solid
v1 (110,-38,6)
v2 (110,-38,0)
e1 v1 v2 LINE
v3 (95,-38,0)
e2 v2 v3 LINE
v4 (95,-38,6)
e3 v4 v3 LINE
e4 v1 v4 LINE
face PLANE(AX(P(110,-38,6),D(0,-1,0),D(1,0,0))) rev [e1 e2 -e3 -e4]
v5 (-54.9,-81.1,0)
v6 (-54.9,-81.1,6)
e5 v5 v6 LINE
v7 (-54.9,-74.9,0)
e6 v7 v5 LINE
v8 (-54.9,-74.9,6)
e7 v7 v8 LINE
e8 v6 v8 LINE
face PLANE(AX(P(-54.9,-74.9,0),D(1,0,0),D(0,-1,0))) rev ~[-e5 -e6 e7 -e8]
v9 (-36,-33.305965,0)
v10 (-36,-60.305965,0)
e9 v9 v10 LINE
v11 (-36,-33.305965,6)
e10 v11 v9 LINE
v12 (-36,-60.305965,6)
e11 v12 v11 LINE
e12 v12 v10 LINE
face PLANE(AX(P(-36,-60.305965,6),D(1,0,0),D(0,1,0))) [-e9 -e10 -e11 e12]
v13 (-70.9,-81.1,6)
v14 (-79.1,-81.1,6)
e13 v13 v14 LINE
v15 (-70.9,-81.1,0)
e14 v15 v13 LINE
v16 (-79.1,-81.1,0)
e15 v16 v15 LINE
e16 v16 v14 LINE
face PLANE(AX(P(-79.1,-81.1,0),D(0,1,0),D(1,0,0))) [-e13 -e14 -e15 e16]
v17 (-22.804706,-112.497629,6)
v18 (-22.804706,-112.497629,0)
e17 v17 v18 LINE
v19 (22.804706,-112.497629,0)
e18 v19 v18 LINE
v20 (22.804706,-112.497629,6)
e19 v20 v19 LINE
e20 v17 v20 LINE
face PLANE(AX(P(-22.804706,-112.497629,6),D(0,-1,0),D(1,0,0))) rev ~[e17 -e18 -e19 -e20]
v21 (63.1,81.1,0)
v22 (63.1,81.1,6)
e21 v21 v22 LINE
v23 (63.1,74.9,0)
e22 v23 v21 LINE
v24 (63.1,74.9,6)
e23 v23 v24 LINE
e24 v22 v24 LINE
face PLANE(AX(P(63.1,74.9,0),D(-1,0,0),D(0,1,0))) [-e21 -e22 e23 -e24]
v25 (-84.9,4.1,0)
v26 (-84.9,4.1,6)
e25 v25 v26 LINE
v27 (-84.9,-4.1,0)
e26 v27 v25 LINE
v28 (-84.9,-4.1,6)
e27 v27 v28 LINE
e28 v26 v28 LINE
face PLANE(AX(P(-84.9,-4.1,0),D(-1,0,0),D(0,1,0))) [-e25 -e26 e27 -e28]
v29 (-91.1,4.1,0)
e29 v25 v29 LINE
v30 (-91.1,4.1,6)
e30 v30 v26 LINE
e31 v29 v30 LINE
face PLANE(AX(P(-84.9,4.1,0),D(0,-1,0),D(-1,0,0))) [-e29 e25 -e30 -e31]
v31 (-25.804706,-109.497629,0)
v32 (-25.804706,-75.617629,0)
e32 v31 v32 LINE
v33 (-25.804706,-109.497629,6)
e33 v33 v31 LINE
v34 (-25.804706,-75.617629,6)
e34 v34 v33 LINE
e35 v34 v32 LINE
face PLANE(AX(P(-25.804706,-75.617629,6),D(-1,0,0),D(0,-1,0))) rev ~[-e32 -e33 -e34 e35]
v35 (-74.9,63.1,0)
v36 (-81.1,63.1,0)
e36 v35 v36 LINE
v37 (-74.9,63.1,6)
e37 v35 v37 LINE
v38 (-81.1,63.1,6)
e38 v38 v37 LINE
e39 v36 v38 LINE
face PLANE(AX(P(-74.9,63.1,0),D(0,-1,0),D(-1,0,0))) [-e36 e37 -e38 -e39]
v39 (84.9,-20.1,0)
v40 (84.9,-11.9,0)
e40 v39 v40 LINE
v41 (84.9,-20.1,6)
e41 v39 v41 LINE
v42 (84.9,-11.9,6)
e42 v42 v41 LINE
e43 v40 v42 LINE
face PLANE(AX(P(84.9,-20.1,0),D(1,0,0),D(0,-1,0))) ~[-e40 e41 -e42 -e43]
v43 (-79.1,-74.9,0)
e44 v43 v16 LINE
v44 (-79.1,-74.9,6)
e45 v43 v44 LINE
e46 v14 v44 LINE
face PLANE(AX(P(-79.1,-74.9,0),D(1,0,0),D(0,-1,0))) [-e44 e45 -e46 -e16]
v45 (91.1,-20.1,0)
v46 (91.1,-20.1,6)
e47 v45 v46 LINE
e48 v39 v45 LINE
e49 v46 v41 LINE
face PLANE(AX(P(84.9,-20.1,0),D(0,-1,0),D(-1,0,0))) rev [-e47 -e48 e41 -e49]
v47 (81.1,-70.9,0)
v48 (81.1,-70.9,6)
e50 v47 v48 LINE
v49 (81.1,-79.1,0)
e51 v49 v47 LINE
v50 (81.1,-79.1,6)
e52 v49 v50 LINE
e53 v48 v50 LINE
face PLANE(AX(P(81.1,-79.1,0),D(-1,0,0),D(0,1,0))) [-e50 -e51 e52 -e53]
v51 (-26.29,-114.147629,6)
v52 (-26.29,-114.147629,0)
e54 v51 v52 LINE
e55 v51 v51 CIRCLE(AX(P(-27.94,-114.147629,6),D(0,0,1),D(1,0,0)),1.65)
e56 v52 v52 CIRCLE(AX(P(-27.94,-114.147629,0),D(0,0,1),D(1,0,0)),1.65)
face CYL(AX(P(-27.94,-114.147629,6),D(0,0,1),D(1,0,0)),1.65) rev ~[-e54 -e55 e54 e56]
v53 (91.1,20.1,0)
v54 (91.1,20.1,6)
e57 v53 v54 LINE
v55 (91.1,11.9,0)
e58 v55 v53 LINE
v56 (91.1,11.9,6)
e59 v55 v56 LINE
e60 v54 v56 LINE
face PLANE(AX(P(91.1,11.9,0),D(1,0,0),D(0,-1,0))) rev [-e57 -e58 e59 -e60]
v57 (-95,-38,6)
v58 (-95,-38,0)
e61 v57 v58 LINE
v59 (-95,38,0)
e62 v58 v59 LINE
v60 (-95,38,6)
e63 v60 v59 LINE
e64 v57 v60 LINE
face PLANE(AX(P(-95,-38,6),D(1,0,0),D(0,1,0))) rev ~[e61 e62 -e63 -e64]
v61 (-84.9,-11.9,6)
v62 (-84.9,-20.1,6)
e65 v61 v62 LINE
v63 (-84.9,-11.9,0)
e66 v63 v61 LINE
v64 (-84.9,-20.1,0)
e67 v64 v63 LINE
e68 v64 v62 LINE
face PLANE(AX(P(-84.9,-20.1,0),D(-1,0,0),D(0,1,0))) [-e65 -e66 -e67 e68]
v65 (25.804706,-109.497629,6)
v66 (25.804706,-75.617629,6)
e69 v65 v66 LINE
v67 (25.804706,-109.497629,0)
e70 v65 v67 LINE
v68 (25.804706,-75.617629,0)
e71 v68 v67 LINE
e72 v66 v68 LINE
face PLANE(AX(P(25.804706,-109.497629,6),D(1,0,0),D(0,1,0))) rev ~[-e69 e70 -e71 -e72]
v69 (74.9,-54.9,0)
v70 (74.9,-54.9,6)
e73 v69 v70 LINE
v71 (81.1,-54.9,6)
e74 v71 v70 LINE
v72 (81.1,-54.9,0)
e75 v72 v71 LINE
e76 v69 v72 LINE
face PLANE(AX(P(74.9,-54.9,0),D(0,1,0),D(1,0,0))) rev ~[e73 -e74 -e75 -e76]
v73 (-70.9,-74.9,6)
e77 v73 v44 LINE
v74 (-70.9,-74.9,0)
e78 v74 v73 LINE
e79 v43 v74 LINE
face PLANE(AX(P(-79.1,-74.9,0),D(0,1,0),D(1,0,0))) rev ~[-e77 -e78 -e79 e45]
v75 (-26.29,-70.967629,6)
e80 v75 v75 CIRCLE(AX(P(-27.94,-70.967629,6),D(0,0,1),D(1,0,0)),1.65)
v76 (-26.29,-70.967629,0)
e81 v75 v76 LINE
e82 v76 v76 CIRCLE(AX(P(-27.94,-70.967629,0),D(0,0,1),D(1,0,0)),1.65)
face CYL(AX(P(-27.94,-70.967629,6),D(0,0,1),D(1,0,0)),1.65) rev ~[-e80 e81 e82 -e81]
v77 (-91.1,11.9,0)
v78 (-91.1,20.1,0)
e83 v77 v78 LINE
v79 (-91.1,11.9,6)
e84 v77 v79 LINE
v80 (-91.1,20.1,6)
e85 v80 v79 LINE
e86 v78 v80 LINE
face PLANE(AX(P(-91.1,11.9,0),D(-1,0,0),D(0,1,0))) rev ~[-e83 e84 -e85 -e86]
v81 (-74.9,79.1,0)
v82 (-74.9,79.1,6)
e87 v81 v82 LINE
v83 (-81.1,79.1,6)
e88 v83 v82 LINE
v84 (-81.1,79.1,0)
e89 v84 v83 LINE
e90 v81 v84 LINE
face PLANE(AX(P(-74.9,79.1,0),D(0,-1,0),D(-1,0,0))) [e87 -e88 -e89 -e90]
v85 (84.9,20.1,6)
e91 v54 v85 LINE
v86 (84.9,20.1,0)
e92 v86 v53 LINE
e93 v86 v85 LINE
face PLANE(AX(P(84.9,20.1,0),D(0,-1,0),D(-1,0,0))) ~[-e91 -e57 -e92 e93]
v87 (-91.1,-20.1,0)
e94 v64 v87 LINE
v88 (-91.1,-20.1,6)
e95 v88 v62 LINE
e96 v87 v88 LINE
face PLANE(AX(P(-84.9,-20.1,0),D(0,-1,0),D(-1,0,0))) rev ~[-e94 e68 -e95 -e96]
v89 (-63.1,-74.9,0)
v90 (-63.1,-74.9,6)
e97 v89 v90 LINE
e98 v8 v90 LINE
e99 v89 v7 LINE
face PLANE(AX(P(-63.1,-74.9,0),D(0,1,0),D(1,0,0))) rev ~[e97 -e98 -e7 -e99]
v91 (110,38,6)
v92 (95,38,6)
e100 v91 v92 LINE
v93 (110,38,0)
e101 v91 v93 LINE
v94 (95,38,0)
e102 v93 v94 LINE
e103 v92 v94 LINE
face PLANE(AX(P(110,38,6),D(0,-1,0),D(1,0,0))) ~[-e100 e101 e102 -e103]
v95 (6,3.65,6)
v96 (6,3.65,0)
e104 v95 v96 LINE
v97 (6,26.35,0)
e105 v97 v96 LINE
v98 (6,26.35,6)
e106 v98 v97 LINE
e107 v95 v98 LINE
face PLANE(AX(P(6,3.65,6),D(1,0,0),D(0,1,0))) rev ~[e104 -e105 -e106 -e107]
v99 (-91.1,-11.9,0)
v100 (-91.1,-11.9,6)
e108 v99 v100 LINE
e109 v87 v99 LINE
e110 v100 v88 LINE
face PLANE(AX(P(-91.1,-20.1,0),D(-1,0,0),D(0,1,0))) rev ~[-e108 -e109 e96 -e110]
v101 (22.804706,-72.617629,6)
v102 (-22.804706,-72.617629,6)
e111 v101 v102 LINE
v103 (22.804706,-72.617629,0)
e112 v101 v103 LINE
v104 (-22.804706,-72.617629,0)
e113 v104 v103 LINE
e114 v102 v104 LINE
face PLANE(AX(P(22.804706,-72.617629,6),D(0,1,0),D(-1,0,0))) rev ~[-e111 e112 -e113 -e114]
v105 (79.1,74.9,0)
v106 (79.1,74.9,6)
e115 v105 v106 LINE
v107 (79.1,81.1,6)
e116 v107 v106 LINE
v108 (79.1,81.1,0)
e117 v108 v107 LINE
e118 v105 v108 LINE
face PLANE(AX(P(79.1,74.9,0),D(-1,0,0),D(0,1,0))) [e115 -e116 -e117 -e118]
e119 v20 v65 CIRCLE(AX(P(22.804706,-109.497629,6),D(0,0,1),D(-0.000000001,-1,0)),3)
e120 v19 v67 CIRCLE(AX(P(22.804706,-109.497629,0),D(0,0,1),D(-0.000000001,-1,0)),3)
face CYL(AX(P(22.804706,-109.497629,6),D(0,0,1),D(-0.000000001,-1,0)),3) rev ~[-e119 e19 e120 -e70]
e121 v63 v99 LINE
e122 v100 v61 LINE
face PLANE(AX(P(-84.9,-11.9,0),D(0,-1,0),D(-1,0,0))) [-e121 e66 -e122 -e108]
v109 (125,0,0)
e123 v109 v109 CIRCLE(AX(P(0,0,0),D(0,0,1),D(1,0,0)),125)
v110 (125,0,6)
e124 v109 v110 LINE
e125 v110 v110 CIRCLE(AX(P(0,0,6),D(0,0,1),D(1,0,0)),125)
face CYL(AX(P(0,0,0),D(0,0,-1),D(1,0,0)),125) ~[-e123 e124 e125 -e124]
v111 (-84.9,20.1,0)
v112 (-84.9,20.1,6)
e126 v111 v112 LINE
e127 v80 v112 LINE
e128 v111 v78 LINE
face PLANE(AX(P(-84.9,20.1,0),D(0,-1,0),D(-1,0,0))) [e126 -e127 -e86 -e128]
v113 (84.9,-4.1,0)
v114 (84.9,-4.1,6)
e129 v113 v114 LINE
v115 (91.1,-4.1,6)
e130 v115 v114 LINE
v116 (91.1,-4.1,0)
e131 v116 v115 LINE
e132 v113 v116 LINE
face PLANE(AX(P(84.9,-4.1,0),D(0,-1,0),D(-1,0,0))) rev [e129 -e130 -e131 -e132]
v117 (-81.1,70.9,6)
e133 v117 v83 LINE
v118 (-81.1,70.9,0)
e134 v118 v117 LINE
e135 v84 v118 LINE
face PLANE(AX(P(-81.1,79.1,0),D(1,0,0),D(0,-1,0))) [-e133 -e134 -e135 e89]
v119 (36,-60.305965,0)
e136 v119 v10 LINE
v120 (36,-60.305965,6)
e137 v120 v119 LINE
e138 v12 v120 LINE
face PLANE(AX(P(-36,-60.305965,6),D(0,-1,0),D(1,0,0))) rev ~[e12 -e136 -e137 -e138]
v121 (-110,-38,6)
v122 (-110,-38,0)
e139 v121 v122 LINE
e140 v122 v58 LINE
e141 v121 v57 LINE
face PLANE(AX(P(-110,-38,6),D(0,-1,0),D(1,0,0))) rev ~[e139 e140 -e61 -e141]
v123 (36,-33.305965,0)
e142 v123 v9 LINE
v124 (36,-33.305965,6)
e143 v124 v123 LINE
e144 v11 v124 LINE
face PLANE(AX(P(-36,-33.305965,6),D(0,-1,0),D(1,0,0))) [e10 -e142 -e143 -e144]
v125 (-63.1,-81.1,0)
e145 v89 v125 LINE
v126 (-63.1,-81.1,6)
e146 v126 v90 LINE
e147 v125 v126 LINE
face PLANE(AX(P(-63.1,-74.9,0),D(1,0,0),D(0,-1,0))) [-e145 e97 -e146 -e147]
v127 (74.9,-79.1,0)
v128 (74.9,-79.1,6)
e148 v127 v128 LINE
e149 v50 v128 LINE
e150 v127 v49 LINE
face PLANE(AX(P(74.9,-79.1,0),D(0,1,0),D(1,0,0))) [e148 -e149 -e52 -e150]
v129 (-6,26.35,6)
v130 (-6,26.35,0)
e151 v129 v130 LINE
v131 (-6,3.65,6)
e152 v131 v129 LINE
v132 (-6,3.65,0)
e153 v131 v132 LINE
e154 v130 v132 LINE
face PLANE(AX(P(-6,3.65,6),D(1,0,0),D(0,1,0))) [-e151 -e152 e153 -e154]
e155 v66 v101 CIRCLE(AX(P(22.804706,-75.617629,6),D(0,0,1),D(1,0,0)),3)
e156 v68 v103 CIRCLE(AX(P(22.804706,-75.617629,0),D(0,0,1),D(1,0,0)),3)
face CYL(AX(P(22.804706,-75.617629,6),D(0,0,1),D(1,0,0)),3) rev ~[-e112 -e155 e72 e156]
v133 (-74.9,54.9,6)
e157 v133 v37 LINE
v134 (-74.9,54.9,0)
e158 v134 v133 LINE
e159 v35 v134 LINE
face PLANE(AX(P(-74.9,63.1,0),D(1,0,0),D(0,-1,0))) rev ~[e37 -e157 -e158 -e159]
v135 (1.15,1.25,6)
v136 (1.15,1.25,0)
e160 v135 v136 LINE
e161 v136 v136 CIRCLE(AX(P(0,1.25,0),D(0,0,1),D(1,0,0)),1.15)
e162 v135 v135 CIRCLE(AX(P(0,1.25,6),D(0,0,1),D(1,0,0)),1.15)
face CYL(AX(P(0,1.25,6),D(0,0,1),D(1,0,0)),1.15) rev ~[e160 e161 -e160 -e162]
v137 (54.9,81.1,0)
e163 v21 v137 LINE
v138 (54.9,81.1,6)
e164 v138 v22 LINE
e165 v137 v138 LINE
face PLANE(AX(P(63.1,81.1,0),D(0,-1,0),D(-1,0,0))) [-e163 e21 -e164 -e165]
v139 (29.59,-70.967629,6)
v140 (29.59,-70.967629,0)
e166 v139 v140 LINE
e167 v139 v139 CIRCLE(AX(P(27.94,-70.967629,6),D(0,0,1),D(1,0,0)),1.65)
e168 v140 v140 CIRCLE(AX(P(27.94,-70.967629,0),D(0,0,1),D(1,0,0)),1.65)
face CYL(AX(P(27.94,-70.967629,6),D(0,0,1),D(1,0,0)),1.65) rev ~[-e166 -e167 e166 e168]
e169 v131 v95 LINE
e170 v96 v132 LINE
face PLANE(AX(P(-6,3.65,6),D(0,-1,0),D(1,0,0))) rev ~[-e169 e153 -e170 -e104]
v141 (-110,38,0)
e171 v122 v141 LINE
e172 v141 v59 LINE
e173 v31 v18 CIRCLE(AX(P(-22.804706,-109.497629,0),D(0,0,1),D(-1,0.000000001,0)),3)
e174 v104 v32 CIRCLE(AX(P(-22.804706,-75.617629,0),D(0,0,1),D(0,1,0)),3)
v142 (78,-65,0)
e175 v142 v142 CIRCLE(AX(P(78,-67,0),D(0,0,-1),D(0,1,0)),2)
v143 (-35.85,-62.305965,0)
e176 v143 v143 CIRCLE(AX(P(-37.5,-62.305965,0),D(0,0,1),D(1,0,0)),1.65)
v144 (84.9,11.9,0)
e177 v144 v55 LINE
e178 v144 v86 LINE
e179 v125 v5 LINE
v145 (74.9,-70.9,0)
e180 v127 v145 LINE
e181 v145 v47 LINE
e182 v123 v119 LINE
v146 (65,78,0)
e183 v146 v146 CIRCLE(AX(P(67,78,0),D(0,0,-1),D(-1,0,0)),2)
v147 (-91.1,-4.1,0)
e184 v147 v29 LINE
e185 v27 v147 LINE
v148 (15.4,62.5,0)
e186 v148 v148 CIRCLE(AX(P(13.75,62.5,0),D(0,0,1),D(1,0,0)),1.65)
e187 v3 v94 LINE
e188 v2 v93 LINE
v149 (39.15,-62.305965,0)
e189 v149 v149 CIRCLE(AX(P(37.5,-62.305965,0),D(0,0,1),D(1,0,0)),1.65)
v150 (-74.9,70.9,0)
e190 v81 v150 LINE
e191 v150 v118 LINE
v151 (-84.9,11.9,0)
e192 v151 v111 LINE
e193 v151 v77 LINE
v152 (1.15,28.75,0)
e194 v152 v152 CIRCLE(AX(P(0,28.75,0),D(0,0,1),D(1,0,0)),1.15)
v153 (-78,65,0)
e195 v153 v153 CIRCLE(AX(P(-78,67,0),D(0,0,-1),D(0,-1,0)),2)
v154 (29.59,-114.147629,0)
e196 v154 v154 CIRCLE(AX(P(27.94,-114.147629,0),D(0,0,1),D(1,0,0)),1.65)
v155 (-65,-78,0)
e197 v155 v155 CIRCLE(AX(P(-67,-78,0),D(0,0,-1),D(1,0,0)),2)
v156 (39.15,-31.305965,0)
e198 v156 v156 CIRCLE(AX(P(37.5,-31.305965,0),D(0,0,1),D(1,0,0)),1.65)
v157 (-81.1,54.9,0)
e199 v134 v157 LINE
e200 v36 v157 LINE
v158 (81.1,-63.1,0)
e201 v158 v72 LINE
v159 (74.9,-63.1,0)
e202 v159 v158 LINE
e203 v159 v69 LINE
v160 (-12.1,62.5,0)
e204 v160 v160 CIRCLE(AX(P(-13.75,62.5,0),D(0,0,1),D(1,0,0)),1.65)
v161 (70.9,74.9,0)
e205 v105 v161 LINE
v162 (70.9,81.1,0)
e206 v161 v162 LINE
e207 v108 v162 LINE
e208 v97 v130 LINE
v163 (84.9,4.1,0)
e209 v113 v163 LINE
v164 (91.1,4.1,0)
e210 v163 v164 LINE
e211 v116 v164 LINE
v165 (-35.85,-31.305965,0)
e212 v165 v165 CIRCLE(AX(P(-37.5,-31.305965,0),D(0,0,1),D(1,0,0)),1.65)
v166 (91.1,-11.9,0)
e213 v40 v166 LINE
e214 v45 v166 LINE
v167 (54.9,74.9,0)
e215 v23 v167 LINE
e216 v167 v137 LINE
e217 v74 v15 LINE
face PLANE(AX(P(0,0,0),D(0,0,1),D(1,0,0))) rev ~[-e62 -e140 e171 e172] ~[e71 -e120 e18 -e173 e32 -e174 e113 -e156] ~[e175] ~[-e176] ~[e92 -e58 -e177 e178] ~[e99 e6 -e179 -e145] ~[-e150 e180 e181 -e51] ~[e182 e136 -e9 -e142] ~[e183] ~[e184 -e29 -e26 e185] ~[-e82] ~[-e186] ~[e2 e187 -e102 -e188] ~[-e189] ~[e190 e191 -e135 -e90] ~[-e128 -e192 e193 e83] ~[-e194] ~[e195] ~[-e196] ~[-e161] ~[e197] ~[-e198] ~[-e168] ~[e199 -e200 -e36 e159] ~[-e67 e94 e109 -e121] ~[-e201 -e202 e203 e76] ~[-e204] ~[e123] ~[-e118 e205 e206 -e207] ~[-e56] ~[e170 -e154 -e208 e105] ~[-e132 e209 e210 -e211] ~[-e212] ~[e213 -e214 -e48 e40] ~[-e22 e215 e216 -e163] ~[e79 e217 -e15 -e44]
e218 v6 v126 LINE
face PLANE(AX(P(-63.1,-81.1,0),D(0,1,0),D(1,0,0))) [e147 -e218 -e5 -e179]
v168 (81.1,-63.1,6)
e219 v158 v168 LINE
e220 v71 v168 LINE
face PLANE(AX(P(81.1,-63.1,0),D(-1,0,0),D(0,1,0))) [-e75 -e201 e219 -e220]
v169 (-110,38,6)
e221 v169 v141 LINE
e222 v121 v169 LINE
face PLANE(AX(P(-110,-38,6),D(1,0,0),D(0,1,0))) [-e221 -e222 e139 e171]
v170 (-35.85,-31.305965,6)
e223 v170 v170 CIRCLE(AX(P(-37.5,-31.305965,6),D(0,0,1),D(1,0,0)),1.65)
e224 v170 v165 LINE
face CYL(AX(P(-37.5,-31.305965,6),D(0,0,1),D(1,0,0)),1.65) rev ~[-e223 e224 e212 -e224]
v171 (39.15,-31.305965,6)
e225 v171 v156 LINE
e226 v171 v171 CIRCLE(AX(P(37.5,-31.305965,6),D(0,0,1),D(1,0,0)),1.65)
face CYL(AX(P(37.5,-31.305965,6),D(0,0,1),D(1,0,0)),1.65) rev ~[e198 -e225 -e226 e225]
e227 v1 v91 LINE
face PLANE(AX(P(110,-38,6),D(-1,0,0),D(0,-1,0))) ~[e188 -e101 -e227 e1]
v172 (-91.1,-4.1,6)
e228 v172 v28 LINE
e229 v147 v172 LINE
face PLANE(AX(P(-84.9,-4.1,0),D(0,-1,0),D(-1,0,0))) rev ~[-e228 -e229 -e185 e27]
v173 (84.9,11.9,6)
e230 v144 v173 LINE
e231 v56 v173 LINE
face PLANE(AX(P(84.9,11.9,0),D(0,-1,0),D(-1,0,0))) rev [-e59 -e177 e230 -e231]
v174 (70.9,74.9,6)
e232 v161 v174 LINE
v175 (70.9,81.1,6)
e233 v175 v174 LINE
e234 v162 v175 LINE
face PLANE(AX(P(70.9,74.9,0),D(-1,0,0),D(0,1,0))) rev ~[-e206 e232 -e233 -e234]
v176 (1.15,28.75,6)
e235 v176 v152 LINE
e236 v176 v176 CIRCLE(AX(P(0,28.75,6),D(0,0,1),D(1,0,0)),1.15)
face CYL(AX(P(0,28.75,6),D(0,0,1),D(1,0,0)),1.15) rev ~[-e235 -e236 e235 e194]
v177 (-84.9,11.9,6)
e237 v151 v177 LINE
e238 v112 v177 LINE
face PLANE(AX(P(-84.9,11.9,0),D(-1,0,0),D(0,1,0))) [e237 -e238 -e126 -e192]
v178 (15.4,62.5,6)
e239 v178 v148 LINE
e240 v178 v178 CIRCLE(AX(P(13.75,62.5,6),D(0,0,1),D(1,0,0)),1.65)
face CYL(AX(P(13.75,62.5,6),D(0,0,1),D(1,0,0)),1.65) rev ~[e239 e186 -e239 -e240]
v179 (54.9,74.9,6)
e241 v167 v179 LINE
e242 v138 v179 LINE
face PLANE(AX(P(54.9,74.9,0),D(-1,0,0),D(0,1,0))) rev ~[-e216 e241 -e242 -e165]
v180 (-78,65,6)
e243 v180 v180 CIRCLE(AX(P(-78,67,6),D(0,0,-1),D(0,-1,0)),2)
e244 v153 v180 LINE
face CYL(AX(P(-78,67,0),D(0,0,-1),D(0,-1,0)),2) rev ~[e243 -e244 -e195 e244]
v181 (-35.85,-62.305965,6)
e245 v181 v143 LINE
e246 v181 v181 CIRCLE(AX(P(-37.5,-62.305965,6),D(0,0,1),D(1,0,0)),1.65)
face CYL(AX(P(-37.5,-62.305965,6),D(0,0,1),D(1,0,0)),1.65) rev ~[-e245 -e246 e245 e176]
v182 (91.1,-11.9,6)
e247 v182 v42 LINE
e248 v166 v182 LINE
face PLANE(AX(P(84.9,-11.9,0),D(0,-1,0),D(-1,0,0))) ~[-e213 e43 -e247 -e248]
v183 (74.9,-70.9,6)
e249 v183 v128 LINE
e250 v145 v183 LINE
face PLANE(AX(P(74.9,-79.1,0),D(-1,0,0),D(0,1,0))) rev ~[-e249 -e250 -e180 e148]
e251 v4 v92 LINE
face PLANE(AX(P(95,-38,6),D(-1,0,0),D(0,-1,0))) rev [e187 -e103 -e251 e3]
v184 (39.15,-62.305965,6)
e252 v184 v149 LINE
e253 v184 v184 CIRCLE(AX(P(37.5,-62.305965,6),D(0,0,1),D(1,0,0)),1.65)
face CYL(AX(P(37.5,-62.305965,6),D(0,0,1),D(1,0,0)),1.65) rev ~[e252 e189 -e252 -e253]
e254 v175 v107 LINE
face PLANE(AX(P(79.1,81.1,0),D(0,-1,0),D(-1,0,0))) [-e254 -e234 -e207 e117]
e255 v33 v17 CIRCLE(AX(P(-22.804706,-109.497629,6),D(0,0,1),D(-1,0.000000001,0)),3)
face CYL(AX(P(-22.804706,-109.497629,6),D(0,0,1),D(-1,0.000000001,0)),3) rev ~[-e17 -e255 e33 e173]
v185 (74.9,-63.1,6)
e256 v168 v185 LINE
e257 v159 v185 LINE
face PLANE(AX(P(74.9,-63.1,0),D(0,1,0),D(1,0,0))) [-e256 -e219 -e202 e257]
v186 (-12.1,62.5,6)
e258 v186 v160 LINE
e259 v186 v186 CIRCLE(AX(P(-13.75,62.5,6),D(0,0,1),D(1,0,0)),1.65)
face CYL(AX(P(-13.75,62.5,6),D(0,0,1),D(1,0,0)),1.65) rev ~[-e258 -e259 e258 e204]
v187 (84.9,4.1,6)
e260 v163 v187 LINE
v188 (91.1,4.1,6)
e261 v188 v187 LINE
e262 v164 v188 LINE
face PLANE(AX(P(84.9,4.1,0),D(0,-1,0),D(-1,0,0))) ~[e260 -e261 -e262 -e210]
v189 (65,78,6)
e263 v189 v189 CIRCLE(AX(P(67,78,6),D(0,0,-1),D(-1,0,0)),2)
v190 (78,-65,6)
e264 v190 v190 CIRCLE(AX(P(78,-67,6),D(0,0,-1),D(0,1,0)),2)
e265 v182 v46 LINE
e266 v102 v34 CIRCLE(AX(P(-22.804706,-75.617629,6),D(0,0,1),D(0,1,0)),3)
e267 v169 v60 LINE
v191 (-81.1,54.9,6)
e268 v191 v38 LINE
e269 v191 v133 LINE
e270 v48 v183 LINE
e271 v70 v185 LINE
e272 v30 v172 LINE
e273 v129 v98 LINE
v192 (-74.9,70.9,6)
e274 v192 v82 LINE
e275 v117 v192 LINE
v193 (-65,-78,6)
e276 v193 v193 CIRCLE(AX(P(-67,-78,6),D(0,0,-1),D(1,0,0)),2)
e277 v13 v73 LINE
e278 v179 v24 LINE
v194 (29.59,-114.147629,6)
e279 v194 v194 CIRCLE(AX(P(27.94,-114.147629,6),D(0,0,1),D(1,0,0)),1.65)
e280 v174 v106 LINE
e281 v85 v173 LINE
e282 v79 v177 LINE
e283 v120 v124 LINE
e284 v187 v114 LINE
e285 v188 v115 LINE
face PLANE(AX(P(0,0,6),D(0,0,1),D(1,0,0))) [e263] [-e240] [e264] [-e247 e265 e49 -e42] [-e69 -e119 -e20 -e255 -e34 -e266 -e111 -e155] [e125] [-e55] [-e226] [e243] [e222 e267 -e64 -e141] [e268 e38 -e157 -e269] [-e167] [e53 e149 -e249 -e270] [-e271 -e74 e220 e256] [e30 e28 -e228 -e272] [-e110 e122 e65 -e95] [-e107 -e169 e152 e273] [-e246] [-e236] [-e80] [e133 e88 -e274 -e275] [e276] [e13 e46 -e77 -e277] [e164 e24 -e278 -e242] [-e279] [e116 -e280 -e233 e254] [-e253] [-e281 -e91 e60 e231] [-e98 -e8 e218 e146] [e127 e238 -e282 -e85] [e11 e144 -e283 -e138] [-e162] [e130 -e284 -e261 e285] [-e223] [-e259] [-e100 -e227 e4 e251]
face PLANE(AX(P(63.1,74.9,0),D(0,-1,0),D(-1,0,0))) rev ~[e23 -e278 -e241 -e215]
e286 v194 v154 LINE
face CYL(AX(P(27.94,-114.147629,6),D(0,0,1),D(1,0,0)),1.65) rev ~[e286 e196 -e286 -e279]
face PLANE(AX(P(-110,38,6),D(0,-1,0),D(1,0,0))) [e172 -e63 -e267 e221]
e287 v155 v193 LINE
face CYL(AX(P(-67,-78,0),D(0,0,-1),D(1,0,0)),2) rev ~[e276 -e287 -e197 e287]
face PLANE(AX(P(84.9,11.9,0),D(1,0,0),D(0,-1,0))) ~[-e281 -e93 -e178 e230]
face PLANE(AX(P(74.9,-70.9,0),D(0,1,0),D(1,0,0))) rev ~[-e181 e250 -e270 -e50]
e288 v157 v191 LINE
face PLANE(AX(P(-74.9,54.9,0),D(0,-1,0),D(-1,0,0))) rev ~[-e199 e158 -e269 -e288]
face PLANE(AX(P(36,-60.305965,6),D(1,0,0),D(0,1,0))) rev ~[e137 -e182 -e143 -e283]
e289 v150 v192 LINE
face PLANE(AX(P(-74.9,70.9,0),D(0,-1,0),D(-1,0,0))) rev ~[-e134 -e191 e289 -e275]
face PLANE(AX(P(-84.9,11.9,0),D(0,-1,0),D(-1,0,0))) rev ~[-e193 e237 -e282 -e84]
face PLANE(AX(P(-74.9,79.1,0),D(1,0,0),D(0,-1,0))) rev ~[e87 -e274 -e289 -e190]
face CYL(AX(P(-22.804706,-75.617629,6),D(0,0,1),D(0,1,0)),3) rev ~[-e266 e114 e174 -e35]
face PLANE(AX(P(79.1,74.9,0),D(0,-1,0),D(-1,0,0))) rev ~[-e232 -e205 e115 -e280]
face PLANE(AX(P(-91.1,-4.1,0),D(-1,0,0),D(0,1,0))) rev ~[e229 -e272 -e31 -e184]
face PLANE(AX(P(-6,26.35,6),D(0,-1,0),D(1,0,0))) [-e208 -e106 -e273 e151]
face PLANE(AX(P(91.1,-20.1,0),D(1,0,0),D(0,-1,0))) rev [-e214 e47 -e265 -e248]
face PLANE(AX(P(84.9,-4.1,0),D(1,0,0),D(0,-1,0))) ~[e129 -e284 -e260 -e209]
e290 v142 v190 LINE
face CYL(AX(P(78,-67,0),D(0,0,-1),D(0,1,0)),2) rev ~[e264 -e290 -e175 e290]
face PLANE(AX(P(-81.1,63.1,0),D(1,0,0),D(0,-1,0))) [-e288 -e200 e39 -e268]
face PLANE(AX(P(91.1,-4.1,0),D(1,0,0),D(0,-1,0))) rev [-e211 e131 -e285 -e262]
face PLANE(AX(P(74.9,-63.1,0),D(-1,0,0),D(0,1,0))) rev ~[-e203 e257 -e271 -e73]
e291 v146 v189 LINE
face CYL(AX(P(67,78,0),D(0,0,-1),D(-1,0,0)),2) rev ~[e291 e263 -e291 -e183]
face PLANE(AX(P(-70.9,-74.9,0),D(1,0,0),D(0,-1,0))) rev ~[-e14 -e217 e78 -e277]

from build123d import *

# Parameters (mm, degrees)
ESQUISSE1_R                  = 125
BOSS_EXTRU_1_DEPTH           = 6
ESQUISSE2_W                  = 15
ESQUISSE2_H                  = 76
ENL_V_MAT_EXTRU_1_DEPTH      = 177.878489365
ESQUISSE3_R                  = 2
ESQUISSE3_W                  = 8.2
ESQUISSE3_H                  = 6.2
ENL_V_MAT_EXTRU_2_DEPTH      = 177.878489365
R_P_TITION_CIRCULAIRE1_COUNT = 4
ESQUISSE4_W                  = 6.2
ESQUISSE4_H                  = 8.2
ENL_V_MAT_EXTRU_3_DEPTH      = 177.878489365
ENL_V_MAT_EXTRU_4_REACH      = 178.878
ESQUISSE8_R                  = 1.65
ESQUISSE8_W                  = 72
ESQUISSE8_H                  = 27
ENL_V_MAT_EXTRU_5_REACH      = 178.878
ESQUISSE9_R                  = 1.65
ESQUISSE9_R_2                = 1.15
ESQUISSE9_W                  = 12
ESQUISSE9_H                  = 22.7


with BuildPart() as part:
    # Esquisse1 → Boss.-Extru.1 (new body)
    with BuildSketch(Plane.XY):
        Circle(ESQUISSE1_R)
    extrude(amount=BOSS_EXTRU_1_DEPTH)

    # Esquisse2 → Enlèv. mat.-Extru.1 (cut, through all)
    with BuildSketch(Plane.XY.offset(6)):
        with Locations((-102.5, 0)):
            Rectangle(ESQUISSE2_W, ESQUISSE2_H)
    enl_v_mat_extru_1 = extrude(amount=-ENL_V_MAT_EXTRU_1_DEPTH, mode=Mode.SUBTRACT)

    # Symétrie1: Enlèv. mat.-Extru.1 across plane
    add(enl_v_mat_extru_1.mirror(Plane(origin=(0, 0, 0), x_dir=(0, 0, 1), z_dir=(1, 0, 0))), mode=Mode.SUBTRACT)

    # Esquisse3 → Enlèv. mat.-Extru.2 (cut, through all)
    with BuildSketch(Plane(origin=(0, 0, 0), x_dir=(-1, 0, 0), z_dir=(0, 0, -1))):
        with Locations((-67, 78)):
            Circle(ESQUISSE3_R)
        with Locations((-75, 78)):
            Rectangle(ESQUISSE3_W, ESQUISSE3_H)
        with Locations((-59, 78)):
            Rectangle(ESQUISSE3_W, ESQUISSE3_H)
    enl_v_mat_extru_2 = extrude(amount=-ENL_V_MAT_EXTRU_2_DEPTH, mode=Mode.SUBTRACT)

    # Répétition circulaire1: Enlèv. mat.-Extru.2 ×4 about axis
    r_p_tition_circulaire1_axis = Axis((0, 0, -0.25), (0, 0, 1))
    for i in range(1, R_P_TITION_CIRCULAIRE1_COUNT):
        add(enl_v_mat_extru_2.rotate(r_p_tition_circulaire1_axis, i * 360 / R_P_TITION_CIRCULAIRE1_COUNT), mode=Mode.SUBTRACT)

    # Esquisse4 → Enlèv. mat.-Extru.3 (cut, through all)
    with BuildSketch(Plane(origin=(0, 0, 0), x_dir=(-1, 0, 0), z_dir=(0, 0, -1))):
        with Locations((88, 16)):
            Rectangle(ESQUISSE4_W, ESQUISSE4_H)
        with Locations((88, -16)):
            Rectangle(ESQUISSE4_W, ESQUISSE4_H)
        with Locations((88, 0)):
            Rectangle(ESQUISSE4_W, ESQUISSE4_H)
    enl_v_mat_extru_3 = extrude(amount=-ENL_V_MAT_EXTRU_3_DEPTH, mode=Mode.SUBTRACT)

    # Symétrie2: Enlèv. mat.-Extru.3 across plane
    add(enl_v_mat_extru_3.mirror(Plane(origin=(0, 0, 0), x_dir=(0, 0, 1), z_dir=(1, 0, 0))), mode=Mode.SUBTRACT)

    # Esquisse8 → Enlèv. mat.-Extru.4 (cut, up to next)
    with BuildSketch(Plane.XY.offset(6), mode=Mode.PRIVATE) as enl_v_mat_extru_4_sk1:
        with Locations((-37.5, -31.305965203)):
            Circle(ESQUISSE8_R)
    enl_v_mat_extru_4_tool1 = extrude(enl_v_mat_extru_4_sk1.sketch, amount=-ENL_V_MAT_EXTRU_4_REACH, mode=Mode.PRIVATE) & part.part
    # Esquisse8 → Enlèv. mat.-Extru.4 (cut, up to next)
    with BuildSketch(Plane.XY.offset(6), mode=Mode.PRIVATE) as enl_v_mat_extru_4_sk2:
        with Locations((37.5, -31.305965203)):
            Circle(ESQUISSE8_R)
    enl_v_mat_extru_4_tool2 = extrude(enl_v_mat_extru_4_sk2.sketch, amount=-ENL_V_MAT_EXTRU_4_REACH, mode=Mode.PRIVATE) & part.part
    # Esquisse8 → Enlèv. mat.-Extru.4 (cut, up to next)
    with BuildSketch(Plane.XY.offset(6), mode=Mode.PRIVATE) as enl_v_mat_extru_4_sk3:
        with Locations((37.5, -62.305965203)):
            Circle(ESQUISSE8_R)
    enl_v_mat_extru_4_tool3 = extrude(enl_v_mat_extru_4_sk3.sketch, amount=-ENL_V_MAT_EXTRU_4_REACH, mode=Mode.PRIVATE) & part.part
    # Esquisse8 → Enlèv. mat.-Extru.4 (cut, up to next)
    with BuildSketch(Plane.XY.offset(6), mode=Mode.PRIVATE) as enl_v_mat_extru_4_sk4:
        with Locations((-37.5, -62.305965203)):
            Circle(ESQUISSE8_R)
    enl_v_mat_extru_4_tool4 = extrude(enl_v_mat_extru_4_sk4.sketch, amount=-ENL_V_MAT_EXTRU_4_REACH, mode=Mode.PRIVATE) & part.part
    # Esquisse8 → Enlèv. mat.-Extru.4 (cut, up to next)
    with BuildSketch(Plane.XY.offset(6), mode=Mode.PRIVATE) as enl_v_mat_extru_4_sk5:
        with Locations((-27.94, -70.967629177)):
            Circle(ESQUISSE8_R)
    enl_v_mat_extru_4_tool5 = extrude(enl_v_mat_extru_4_sk5.sketch, amount=-ENL_V_MAT_EXTRU_4_REACH, mode=Mode.PRIVATE) & part.part
    # Esquisse8 → Enlèv. mat.-Extru.4 (cut, up to next)
    with BuildSketch(Plane.XY.offset(6), mode=Mode.PRIVATE) as enl_v_mat_extru_4_sk6:
        with Locations((27.94, -70.967629177)):
            Circle(ESQUISSE8_R)
    enl_v_mat_extru_4_tool6 = extrude(enl_v_mat_extru_4_sk6.sketch, amount=-ENL_V_MAT_EXTRU_4_REACH, mode=Mode.PRIVATE) & part.part
    # Esquisse8 → Enlèv. mat.-Extru.4 (cut, up to next)
    with BuildSketch(Plane.XY.offset(6), mode=Mode.PRIVATE) as enl_v_mat_extru_4_sk7:
        with Locations((27.94, -114.147629177)):
            Circle(ESQUISSE8_R)
    enl_v_mat_extru_4_tool7 = extrude(enl_v_mat_extru_4_sk7.sketch, amount=-ENL_V_MAT_EXTRU_4_REACH, mode=Mode.PRIVATE) & part.part
    # Esquisse8 → Enlèv. mat.-Extru.4 (cut, up to next)
    with BuildSketch(Plane.XY.offset(6), mode=Mode.PRIVATE) as enl_v_mat_extru_4_sk8:
        with Locations((-27.94, -114.147629177)):
            Circle(ESQUISSE8_R)
    enl_v_mat_extru_4_tool8 = extrude(enl_v_mat_extru_4_sk8.sketch, amount=-ENL_V_MAT_EXTRU_4_REACH, mode=Mode.PRIVATE) & part.part
    # Esquisse8 → Enlèv. mat.-Extru.4 (cut, up to next)
    with BuildSketch(Plane.XY.offset(6), mode=Mode.PRIVATE) as enl_v_mat_extru_4_sk9:
        with Locations((0, -46.805965203)):
            Rectangle(ESQUISSE8_W, ESQUISSE8_H)
    enl_v_mat_extru_4_tool9 = extrude(enl_v_mat_extru_4_sk9.sketch, amount=-ENL_V_MAT_EXTRU_4_REACH, mode=Mode.PRIVATE) & part.part
    # Esquisse8 → Enlèv. mat.-Extru.4 (cut, up to next)
    with BuildSketch(Plane.XY.offset(6), mode=Mode.PRIVATE) as enl_v_mat_extru_4_sk10:
        with BuildLine():
            Line((-22.804705882, -112.497629177), (22.804705882, -112.497629177))
            ThreePointArc((22.804705882, -112.497629177), (24.926026226, -111.618949521), (25.804705882, -109.497629177))
            Line((25.804705882, -109.497629177), (25.804705882, -75.617629177))
            ThreePointArc((25.804705882, -75.617629177), (24.926026226, -73.496308834), (22.804705882, -72.617629177))
            Line((22.804705882, -72.617629177), (-22.804705882, -72.617629177))
            ThreePointArc((-22.804705882, -72.617629177), (-24.926026226, -73.496308834), (-25.804705882, -75.617629177))
            Line((-25.804705882, -75.617629177), (-25.804705882, -109.497629177))
            ThreePointArc((-25.804705882, -109.497629177), (-24.926026226, -111.618949521), (-22.804705882, -112.497629177))
        make_face()
    enl_v_mat_extru_4_tool10 = extrude(enl_v_mat_extru_4_sk10.sketch, amount=-ENL_V_MAT_EXTRU_4_REACH, mode=Mode.PRIVATE) & part.part
    add(enl_v_mat_extru_4_tool1.solids().sort_by_distance((-37.5, -31.305965, 6))[0], mode=Mode.SUBTRACT)
    add(enl_v_mat_extru_4_tool2.solids().sort_by_distance((37.5, -31.305965, 6))[0], mode=Mode.SUBTRACT)
    add(enl_v_mat_extru_4_tool3.solids().sort_by_distance((37.5, -62.305965, 6))[0], mode=Mode.SUBTRACT)
    add(enl_v_mat_extru_4_tool4.solids().sort_by_distance((-37.5, -62.305965, 6))[0], mode=Mode.SUBTRACT)
    add(enl_v_mat_extru_4_tool5.solids().sort_by_distance((-27.94, -70.967629, 6))[0], mode=Mode.SUBTRACT)
    add(enl_v_mat_extru_4_tool6.solids().sort_by_distance((27.94, -70.967629, 6))[0], mode=Mode.SUBTRACT)
    add(enl_v_mat_extru_4_tool7.solids().sort_by_distance((27.94, -114.147629, 6))[0], mode=Mode.SUBTRACT)
    add(enl_v_mat_extru_4_tool8.solids().sort_by_distance((-27.94, -114.147629, 6))[0], mode=Mode.SUBTRACT)
    add(enl_v_mat_extru_4_tool9.solids().sort_by_distance((0, -46.805965, 6))[0], mode=Mode.SUBTRACT)
    add(enl_v_mat_extru_4_tool10.solids().sort_by_distance((0, -92.557629, 6))[0], mode=Mode.SUBTRACT)

    # Esquisse9 → Enlèv. mat.-Extru.5 (cut, up to next)
    with BuildSketch(Plane.XY.offset(6), mode=Mode.PRIVATE) as enl_v_mat_extru_5_sk1:
        with Locations((-13.75, 62.5)):
            Circle(ESQUISSE9_R)
    enl_v_mat_extru_5_tool1 = extrude(enl_v_mat_extru_5_sk1.sketch, amount=-ENL_V_MAT_EXTRU_5_REACH, mode=Mode.PRIVATE) & part.part
    # Esquisse9 → Enlèv. mat.-Extru.5 (cut, up to next)
    with BuildSketch(Plane.XY.offset(6), mode=Mode.PRIVATE) as enl_v_mat_extru_5_sk2:
        with Locations((13.75, 62.5)):
            Circle(ESQUISSE9_R)
    enl_v_mat_extru_5_tool2 = extrude(enl_v_mat_extru_5_sk2.sketch, amount=-ENL_V_MAT_EXTRU_5_REACH, mode=Mode.PRIVATE) & part.part
    # Esquisse9 → Enlèv. mat.-Extru.5 (cut, up to next)
    with BuildSketch(Plane.XY.offset(6), mode=Mode.PRIVATE) as enl_v_mat_extru_5_sk3:
        with Locations((0, 28.75)):
            Circle(ESQUISSE9_R_2)
    enl_v_mat_extru_5_tool3 = extrude(enl_v_mat_extru_5_sk3.sketch, amount=-ENL_V_MAT_EXTRU_5_REACH, mode=Mode.PRIVATE) & part.part
    # Esquisse9 → Enlèv. mat.-Extru.5 (cut, up to next)
    with BuildSketch(Plane.XY.offset(6), mode=Mode.PRIVATE) as enl_v_mat_extru_5_sk4:
        with Locations((0, 1.25)):
            Circle(ESQUISSE9_R_2)
    enl_v_mat_extru_5_tool4 = extrude(enl_v_mat_extru_5_sk4.sketch, amount=-ENL_V_MAT_EXTRU_5_REACH, mode=Mode.PRIVATE) & part.part
    # Esquisse9 → Enlèv. mat.-Extru.5 (cut, up to next)
    with BuildSketch(Plane.XY.offset(6), mode=Mode.PRIVATE) as enl_v_mat_extru_5_sk5:
        with Locations((0, 15)):
            Rectangle(ESQUISSE9_W, ESQUISSE9_H)
    enl_v_mat_extru_5_tool5 = extrude(enl_v_mat_extru_5_sk5.sketch, amount=-ENL_V_MAT_EXTRU_5_REACH, mode=Mode.PRIVATE) & part.part
    add(enl_v_mat_extru_5_tool1.solids().sort_by_distance((-13.75, 62.5, 6))[0], mode=Mode.SUBTRACT)
    add(enl_v_mat_extru_5_tool2.solids().sort_by_distance((13.75, 62.5, 6))[0], mode=Mode.SUBTRACT)
    add(enl_v_mat_extru_5_tool3.solids().sort_by_distance((0, 28.75, 6))[0], mode=Mode.SUBTRACT)
    add(enl_v_mat_extru_5_tool4.solids().sort_by_distance((0, 1.25, 6))[0], mode=Mode.SUBTRACT)
    add(enl_v_mat_extru_5_tool5.solids().sort_by_distance((0, 15, 6))[0], mode=Mode.SUBTRACT)


solid = part.part
